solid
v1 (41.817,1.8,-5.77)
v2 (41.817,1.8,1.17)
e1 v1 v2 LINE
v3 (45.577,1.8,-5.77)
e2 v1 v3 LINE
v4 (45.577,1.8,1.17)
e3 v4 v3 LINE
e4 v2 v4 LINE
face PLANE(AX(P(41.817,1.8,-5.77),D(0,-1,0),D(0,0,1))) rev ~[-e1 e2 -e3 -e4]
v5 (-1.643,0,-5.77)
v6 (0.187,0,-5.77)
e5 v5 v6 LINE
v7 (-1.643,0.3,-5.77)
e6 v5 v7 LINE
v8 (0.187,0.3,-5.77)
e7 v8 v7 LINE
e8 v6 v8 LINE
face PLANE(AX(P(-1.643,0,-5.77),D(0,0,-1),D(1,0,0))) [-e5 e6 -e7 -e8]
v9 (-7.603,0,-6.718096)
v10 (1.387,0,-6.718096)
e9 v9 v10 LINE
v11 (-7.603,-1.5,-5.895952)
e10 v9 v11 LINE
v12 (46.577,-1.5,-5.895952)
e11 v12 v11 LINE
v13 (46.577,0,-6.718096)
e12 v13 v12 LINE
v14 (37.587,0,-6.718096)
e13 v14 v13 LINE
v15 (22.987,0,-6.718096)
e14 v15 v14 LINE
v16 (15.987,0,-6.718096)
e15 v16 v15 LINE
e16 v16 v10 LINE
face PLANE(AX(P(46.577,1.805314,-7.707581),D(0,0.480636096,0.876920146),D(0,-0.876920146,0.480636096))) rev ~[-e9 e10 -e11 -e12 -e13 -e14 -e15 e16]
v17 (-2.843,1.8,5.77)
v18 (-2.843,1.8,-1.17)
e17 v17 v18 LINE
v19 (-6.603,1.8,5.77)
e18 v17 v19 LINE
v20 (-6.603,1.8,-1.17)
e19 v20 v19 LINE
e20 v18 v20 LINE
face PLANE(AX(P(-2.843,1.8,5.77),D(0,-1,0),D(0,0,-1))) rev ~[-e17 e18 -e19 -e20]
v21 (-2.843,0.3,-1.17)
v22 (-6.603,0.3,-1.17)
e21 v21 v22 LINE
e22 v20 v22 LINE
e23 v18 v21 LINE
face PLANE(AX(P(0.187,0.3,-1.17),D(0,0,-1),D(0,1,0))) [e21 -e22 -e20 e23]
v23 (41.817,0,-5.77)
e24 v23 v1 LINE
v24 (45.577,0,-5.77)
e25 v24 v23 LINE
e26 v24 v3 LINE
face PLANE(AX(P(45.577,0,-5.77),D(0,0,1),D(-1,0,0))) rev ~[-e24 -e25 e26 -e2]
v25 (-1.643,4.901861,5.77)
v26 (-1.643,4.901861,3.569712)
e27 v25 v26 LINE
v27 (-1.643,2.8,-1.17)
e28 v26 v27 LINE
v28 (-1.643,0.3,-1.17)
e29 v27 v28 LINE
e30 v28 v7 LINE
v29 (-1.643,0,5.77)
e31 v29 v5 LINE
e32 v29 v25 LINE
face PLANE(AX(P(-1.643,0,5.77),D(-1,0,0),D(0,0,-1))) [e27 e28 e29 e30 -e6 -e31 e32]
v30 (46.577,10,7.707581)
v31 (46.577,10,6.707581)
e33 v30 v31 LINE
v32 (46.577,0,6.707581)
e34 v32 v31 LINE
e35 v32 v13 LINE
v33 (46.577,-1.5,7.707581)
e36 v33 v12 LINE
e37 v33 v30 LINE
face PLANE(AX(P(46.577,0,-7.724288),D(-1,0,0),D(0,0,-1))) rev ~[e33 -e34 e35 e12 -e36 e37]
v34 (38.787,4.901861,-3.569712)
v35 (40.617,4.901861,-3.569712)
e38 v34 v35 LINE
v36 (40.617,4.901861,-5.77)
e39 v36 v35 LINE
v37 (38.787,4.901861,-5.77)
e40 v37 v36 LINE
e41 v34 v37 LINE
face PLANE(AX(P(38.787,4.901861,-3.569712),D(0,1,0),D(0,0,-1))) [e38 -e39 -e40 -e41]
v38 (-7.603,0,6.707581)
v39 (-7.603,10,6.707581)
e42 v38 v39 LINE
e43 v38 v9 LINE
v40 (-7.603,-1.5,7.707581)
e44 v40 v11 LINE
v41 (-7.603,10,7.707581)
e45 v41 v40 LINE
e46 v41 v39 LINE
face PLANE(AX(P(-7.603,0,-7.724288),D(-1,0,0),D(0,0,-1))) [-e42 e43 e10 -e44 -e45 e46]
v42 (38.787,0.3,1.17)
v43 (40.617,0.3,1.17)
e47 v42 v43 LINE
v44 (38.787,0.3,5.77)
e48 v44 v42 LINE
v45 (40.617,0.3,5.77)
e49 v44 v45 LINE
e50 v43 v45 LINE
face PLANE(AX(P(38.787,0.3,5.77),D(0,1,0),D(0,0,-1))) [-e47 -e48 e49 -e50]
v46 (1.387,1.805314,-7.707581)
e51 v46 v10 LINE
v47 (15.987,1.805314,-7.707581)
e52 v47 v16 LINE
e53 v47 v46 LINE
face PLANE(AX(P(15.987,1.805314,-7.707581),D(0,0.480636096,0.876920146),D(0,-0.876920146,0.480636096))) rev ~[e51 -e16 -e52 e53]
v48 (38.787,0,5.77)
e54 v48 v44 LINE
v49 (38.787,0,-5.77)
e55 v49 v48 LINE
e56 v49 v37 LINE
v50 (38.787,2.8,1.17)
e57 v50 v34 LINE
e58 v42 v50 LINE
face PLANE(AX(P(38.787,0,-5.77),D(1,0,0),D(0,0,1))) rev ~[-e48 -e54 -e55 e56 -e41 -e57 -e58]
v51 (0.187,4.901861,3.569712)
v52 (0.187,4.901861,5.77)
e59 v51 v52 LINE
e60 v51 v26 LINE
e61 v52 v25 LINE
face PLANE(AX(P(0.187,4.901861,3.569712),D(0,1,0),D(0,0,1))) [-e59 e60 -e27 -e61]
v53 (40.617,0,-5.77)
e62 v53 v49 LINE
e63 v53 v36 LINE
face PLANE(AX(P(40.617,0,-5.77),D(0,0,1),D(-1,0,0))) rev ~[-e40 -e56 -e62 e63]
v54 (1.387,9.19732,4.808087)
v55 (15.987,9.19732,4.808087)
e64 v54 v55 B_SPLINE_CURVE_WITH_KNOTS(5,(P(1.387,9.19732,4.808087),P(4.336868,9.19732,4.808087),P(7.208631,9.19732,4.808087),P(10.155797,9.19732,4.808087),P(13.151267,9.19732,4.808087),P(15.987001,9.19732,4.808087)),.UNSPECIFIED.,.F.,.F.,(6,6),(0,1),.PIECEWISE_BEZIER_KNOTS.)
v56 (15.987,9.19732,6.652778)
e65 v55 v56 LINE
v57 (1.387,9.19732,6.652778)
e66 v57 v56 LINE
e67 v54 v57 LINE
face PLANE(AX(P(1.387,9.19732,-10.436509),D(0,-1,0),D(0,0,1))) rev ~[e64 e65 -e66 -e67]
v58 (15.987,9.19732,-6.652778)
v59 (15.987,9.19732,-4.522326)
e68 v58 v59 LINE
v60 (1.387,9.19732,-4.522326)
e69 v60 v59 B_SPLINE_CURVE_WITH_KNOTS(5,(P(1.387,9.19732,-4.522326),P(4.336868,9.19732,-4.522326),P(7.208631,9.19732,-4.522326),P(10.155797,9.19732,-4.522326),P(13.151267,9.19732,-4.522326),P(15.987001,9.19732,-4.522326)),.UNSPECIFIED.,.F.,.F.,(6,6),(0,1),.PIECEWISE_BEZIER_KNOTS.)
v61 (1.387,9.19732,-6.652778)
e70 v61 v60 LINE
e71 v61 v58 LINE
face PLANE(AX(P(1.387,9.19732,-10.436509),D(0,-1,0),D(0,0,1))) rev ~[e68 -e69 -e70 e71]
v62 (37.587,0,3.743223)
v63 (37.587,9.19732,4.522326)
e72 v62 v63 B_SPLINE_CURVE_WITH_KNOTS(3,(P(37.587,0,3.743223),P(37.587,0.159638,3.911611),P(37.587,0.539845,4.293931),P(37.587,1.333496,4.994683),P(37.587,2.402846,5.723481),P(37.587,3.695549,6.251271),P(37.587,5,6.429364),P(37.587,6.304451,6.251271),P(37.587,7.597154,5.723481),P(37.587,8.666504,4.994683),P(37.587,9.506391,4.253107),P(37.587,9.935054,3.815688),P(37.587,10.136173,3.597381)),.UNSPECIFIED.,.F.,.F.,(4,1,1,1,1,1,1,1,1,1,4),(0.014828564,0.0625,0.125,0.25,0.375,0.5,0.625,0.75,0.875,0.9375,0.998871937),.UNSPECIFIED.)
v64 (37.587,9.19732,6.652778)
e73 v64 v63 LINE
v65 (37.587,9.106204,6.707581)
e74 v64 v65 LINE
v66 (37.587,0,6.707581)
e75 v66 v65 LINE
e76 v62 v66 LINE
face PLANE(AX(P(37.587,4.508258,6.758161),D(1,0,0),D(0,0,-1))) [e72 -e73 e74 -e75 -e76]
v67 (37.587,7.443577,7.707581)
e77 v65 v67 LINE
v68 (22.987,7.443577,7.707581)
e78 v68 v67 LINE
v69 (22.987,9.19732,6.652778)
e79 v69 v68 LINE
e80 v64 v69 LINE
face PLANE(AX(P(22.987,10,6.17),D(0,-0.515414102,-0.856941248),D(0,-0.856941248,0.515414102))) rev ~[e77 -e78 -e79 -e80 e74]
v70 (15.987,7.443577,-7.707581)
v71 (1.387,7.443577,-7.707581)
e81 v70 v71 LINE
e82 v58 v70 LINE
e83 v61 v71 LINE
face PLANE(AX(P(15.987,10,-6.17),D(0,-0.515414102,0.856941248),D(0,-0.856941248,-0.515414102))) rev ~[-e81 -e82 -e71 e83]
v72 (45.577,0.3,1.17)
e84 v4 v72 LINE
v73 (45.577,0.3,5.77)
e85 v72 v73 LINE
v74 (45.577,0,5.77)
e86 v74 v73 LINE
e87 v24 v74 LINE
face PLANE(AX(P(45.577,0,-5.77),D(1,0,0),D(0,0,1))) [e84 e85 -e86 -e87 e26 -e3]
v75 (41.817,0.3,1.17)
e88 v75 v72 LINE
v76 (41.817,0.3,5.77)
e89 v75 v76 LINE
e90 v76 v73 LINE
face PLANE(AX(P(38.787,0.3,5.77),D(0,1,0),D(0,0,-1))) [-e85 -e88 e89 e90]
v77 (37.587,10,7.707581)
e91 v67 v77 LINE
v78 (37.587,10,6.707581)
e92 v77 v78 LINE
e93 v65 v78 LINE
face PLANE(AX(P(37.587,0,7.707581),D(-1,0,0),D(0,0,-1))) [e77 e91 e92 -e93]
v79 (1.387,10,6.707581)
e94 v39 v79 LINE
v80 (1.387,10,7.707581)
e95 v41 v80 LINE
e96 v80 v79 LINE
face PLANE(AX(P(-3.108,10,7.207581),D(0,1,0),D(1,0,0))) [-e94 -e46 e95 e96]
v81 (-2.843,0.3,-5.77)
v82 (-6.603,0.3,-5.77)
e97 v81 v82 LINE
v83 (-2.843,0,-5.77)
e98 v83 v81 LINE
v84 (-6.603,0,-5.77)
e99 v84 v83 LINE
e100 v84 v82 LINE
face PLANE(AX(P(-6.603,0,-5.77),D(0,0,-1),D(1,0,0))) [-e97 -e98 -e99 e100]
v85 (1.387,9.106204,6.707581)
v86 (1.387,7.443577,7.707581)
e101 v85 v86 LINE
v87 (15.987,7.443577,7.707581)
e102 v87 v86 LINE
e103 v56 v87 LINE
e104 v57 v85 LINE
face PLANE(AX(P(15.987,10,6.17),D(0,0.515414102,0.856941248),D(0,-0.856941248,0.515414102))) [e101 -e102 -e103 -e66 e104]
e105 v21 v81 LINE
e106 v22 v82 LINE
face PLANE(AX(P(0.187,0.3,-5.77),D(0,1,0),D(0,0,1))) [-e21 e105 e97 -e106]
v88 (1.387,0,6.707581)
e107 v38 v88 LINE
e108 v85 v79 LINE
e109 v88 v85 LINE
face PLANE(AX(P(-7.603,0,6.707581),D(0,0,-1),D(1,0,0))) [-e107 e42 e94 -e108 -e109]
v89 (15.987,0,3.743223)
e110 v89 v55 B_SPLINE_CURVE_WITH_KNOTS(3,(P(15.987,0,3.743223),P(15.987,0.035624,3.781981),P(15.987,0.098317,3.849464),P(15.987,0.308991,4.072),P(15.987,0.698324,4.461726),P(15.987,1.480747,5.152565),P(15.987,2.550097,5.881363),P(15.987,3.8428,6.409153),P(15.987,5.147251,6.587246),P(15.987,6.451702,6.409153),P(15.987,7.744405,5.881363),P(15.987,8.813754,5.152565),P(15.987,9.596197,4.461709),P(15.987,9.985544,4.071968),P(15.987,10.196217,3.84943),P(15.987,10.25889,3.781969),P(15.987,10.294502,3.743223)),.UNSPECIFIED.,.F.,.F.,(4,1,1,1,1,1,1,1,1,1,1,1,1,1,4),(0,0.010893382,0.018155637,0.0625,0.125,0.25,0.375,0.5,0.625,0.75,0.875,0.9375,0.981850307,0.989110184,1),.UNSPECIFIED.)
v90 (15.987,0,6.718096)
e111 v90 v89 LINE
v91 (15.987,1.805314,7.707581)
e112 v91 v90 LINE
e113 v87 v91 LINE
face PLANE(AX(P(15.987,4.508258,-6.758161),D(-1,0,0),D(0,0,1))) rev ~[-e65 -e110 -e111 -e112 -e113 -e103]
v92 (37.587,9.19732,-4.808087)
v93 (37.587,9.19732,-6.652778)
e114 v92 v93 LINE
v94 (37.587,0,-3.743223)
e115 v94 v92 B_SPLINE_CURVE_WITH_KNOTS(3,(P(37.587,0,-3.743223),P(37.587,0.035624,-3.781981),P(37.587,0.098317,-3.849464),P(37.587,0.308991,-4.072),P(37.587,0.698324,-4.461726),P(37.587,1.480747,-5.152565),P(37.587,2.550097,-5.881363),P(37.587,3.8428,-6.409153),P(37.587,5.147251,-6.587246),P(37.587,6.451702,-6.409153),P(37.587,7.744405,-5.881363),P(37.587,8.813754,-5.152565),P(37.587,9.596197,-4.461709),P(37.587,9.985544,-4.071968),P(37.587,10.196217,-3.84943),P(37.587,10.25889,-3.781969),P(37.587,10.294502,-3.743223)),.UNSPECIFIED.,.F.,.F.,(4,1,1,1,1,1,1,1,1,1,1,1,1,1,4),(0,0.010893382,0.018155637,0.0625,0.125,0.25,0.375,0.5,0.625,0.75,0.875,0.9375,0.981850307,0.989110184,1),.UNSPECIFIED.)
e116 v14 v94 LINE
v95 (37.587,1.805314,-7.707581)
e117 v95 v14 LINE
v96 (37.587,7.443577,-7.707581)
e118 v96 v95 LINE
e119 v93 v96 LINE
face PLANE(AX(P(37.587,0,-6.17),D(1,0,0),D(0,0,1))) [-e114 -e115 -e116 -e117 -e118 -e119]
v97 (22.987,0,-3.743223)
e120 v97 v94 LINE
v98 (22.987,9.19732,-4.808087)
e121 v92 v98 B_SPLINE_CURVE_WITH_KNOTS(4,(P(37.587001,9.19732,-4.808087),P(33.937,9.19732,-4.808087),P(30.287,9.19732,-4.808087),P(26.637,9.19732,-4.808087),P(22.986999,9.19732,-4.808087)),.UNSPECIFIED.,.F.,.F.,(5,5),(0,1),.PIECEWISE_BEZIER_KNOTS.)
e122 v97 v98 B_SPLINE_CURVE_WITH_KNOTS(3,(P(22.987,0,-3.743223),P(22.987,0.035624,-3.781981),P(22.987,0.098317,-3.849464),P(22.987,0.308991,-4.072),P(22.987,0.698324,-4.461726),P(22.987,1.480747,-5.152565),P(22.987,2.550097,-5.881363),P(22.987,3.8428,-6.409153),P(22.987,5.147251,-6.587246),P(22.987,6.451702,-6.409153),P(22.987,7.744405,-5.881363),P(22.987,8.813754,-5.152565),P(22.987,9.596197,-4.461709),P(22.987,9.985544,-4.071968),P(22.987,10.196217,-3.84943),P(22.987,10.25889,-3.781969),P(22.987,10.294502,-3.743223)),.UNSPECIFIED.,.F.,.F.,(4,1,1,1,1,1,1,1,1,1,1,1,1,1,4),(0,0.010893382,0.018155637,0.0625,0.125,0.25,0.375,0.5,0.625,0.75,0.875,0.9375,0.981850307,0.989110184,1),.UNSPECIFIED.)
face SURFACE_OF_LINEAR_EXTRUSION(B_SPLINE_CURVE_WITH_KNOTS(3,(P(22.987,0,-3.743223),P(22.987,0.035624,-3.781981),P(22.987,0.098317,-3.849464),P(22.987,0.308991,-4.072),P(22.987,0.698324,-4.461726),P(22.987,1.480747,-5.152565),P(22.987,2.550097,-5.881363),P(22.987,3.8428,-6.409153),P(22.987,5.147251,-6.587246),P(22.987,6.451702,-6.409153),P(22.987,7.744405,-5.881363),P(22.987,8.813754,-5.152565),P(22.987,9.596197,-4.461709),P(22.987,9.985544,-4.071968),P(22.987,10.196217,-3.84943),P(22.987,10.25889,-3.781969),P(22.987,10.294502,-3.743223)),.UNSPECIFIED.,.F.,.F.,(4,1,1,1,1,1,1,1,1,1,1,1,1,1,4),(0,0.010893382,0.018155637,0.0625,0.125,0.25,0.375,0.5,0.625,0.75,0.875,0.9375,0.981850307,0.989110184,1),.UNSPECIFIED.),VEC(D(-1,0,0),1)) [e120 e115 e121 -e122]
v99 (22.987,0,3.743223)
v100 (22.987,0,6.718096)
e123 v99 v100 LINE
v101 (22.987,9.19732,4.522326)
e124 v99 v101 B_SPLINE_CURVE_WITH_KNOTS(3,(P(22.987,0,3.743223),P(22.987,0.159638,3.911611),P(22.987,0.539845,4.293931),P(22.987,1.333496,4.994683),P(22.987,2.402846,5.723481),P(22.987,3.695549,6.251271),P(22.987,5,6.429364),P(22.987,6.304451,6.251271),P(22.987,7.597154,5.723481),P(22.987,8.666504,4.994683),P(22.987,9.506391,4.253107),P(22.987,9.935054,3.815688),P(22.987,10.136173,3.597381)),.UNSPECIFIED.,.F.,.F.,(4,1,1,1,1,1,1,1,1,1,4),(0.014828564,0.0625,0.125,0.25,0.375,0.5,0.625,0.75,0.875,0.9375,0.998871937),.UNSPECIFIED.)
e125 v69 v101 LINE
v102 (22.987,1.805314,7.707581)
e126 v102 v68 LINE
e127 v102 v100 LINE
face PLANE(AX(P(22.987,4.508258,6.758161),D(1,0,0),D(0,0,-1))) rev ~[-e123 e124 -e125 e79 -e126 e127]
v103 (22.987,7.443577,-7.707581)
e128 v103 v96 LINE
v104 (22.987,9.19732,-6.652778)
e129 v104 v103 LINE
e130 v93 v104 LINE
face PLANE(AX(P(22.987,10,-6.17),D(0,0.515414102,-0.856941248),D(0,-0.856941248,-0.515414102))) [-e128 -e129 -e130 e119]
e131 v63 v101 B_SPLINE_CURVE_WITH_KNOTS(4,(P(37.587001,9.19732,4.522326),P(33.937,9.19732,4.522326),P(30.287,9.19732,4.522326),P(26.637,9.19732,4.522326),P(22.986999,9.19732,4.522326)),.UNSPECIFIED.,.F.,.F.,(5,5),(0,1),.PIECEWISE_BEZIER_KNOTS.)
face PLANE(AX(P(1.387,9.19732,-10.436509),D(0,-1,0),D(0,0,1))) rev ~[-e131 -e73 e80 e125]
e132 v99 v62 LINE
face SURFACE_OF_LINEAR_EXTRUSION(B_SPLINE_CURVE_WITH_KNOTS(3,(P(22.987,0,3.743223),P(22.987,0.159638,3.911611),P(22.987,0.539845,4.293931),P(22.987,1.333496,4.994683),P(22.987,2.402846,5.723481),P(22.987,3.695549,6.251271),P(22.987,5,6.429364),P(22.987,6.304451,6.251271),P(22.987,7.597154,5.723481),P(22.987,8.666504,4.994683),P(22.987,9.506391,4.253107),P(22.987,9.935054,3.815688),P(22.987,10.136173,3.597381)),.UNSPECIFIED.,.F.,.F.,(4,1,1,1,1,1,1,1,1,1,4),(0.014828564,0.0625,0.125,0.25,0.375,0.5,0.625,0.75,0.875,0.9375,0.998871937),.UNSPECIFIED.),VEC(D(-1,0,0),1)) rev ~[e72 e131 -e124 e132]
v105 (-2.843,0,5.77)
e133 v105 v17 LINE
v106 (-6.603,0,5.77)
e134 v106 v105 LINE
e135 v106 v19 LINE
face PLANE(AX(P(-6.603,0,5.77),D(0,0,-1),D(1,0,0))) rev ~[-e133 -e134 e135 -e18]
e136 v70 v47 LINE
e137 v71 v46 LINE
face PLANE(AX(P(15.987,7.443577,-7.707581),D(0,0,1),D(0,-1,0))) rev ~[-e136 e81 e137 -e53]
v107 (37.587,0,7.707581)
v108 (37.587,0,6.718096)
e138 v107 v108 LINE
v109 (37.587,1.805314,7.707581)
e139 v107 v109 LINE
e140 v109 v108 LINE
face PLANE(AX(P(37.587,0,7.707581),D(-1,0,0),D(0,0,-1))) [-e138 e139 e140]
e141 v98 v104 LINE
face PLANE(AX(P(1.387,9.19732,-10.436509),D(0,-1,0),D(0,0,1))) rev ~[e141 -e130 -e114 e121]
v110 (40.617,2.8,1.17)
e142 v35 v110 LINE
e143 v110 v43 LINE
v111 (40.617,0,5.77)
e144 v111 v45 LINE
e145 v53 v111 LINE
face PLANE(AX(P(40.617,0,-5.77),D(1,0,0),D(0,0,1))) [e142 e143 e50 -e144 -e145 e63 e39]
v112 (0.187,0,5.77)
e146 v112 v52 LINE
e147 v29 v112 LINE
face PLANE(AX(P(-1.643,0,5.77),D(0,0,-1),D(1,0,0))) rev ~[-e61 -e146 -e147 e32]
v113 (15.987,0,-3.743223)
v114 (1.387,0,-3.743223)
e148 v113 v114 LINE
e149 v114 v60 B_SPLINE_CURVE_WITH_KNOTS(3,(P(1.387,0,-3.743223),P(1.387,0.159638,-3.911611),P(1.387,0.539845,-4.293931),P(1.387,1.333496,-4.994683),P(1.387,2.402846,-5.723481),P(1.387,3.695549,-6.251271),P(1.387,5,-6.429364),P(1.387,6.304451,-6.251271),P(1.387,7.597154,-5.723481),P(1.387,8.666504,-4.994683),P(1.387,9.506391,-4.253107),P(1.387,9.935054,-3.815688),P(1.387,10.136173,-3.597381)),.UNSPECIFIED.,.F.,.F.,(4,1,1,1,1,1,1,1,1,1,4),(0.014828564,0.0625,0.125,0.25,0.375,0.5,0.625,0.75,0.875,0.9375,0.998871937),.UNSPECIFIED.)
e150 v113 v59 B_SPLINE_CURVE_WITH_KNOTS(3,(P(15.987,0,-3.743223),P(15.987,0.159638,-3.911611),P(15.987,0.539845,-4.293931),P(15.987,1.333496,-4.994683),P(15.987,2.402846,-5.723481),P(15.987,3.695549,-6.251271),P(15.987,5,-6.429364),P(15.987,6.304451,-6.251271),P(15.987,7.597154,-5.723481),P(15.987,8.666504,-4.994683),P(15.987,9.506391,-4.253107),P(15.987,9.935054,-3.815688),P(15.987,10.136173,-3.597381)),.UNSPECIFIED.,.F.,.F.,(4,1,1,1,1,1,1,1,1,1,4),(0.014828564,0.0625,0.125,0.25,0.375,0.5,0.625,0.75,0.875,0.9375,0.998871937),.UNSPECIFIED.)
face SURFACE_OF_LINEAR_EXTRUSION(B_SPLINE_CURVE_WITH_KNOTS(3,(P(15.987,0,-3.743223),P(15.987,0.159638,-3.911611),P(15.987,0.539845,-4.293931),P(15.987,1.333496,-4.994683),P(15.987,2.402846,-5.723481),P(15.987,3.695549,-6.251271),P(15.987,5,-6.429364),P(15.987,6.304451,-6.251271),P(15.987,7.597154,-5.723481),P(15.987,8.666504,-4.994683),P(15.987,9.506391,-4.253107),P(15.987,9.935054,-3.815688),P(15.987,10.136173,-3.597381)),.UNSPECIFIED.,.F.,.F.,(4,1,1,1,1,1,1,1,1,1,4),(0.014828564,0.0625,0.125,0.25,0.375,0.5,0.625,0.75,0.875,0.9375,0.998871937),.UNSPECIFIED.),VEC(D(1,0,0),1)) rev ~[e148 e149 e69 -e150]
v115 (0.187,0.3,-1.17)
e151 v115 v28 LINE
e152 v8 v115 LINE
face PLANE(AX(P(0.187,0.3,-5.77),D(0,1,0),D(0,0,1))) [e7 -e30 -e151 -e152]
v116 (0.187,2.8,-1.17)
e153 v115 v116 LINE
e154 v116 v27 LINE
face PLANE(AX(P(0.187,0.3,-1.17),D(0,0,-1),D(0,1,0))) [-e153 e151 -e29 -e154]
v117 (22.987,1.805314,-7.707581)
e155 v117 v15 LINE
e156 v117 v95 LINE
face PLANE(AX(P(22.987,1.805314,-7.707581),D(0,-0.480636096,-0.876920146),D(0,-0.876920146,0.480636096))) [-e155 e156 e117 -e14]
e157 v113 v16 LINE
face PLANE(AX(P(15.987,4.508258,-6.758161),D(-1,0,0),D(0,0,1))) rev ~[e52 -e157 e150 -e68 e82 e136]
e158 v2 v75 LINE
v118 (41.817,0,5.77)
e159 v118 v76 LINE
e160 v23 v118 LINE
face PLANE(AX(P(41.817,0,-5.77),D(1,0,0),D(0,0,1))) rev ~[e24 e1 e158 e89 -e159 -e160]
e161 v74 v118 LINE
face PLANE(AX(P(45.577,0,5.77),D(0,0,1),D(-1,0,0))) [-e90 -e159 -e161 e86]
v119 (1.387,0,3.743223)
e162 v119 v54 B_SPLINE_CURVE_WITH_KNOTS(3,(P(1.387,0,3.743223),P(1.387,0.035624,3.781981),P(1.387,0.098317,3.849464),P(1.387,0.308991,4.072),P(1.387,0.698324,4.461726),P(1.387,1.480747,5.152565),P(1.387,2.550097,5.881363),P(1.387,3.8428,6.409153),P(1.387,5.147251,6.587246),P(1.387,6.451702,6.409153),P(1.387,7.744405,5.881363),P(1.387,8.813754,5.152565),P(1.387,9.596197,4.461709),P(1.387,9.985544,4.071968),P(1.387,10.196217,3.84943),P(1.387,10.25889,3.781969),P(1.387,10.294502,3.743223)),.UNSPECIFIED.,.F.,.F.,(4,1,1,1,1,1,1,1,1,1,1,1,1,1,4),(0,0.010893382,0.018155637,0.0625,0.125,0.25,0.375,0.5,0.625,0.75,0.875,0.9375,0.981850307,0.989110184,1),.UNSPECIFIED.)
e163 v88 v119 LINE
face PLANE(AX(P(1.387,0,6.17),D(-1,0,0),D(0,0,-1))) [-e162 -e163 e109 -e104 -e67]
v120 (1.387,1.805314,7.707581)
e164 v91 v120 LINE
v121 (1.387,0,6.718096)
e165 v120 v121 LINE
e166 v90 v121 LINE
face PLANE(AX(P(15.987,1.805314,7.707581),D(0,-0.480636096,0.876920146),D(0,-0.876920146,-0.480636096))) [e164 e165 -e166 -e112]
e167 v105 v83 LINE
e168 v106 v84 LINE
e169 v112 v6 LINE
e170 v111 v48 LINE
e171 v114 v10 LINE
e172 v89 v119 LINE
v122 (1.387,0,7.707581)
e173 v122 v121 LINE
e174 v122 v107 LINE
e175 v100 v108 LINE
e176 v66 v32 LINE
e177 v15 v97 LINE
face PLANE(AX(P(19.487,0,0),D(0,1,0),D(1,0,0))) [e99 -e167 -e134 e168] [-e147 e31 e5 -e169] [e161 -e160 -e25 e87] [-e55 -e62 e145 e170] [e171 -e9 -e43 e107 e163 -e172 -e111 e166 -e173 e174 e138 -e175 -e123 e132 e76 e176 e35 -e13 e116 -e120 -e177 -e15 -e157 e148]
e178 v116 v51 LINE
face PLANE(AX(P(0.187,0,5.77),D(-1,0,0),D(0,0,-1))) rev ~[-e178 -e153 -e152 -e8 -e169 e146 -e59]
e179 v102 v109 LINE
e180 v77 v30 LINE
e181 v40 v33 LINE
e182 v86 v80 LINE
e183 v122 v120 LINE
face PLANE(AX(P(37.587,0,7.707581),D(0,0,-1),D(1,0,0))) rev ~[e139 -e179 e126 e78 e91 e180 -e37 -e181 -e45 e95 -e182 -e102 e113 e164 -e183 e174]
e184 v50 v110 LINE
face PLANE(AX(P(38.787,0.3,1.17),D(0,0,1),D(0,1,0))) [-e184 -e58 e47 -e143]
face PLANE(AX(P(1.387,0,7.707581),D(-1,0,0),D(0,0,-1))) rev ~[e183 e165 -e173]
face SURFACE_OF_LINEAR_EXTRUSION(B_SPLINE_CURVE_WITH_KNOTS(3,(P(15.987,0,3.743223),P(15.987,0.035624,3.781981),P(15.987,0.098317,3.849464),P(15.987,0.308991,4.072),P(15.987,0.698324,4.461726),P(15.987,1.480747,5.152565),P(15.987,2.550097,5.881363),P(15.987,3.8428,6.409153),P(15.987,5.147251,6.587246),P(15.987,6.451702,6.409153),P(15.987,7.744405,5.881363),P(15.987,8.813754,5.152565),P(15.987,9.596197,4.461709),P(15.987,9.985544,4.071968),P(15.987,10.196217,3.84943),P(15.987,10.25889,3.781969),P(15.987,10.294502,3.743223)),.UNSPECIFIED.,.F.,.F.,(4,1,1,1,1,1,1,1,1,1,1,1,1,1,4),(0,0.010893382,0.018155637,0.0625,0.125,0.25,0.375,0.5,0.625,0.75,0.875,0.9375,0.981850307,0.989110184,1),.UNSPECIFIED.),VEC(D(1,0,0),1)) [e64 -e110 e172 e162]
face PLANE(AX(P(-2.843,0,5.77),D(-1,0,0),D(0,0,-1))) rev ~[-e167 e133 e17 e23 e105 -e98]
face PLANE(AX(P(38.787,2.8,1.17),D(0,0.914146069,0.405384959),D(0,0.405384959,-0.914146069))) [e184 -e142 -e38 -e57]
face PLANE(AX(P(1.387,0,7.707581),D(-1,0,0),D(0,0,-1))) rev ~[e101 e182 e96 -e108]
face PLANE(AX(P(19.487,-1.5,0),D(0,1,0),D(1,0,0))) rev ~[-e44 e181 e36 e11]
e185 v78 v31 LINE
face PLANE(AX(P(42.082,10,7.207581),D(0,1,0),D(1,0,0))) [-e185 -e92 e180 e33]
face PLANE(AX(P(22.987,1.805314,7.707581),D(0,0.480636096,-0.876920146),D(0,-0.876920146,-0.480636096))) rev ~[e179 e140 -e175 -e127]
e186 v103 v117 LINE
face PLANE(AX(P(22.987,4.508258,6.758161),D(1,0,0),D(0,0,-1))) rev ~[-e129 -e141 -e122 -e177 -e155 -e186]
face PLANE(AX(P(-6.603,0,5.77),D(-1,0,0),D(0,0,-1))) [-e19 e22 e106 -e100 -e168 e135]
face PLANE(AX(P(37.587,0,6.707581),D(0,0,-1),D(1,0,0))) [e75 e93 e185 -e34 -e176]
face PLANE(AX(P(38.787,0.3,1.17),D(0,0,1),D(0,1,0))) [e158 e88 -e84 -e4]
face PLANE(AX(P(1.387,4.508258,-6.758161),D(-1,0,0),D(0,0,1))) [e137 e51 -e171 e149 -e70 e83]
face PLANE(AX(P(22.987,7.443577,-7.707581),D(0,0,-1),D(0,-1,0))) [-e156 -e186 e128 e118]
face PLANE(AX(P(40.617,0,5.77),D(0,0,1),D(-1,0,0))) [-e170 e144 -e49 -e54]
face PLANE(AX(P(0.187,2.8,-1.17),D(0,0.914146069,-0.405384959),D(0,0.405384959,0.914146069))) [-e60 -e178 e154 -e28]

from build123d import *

# Parameters (mm, degrees)
SKETCH_1_W               = 3.76
SKETCH_1_H               = 11.54
SKETCH_1_W_2             = 1.83
SKETCH_1_W_3             = 14.6
SKETCH_1_H_2             = 2.72
SKETCH_1_H_3             = 6.9
EXTRUDE_1_DEPTH          = 1
SKETCH_1_3_W             = 3.76
SKETCH_1_3_H             = 11.54
SKETCH_1_3_W_2           = 1.83
SKETCH_1_3_W_3           = 14.6
SKETCH_1_3_H_2           = 2.72
EXTRUDE_2_DEPTH          = 10
EXTRUDE_3_DEPTH          = 14.6
CUT_EXTRUDE_1_DEPTH      = 14.6
CUT_EXTRUDE_2_DEPTH      = 14.6
CUT_EXTRUDE_3_DEPTH      = 14.6
PATTERN_CIRCULAR_1_COUNT = 2
SKETCH_7_W               = 20.64829466
SKETCH_7_H               = 2.860597992
CUT_EXTRUDE_4_DEPTH      = 38.6
SKETCH_8_W               = 54.18
SKETCH_8_H               = 19.048575036
SKETCH_8_W_2             = 7
SKETCH_8_H_2             = 4.5
SKETCH_8_R               = 1.6
EXTRUDE_4_DEPTH          = 1.5
SKETCH_9_W               = 54.18
SKETCH_9_H               = 1.8
EXTRUDE_5_DEPTH          = 7
SKETCH_10_R              = 1.65
CUT_EXTRUDE_5_DEPTH      = 5
EXTRUDE_START            = 2
SKETCH_8_3_W             = 7
SKETCH_8_3_H             = 4.5
SKETCH_8_3_R             = 1.6
EXTRUDE_6_DEPTH          = 2
SKETCH_11_W              = 54.18
SKETCH_11_H              = 6.653379434
CUT_EXTRUDE_6_DEPTH      = 5
CUT_EXTRUDE_7_DEPTH      = 54.18
SKETCH_13_W              = 8.99
SKETCH_13_H              = 1
EXTRUDE_7_DEPTH          = 10


with BuildPart() as part:
    # 草图1 → 凸台-拉伸1 (new body)
    # profile 1 of 6: a face of its own
    with BuildSketch(Plane(origin=(0, 0, 0), x_dir=(1, 0, 0), z_dir=(0, 1, 0))):
        Polygon((-7.603, 6.17), (-7.603, -6.17), (1.387, -6.17), (1.387, -3.45), (1.387, 3.45), (1.387, 6.17), align=None)
        with Locations((-4.723, 0)):
            Rectangle(SKETCH_1_W, SKETCH_1_H, mode=Mode.SUBTRACT)
        with Locations((-0.728, 0)):
            Rectangle(SKETCH_1_W_2, SKETCH_1_H, mode=Mode.SUBTRACT)
    # profile 2 of 6: a face of its own
    with BuildSketch(Plane(origin=(0, 0, 0), x_dir=(1, 0, 0), z_dir=(0, 1, 0))):
        with Locations((8.687, -4.81)):
            Rectangle(SKETCH_1_W_3, SKETCH_1_H_2)
    # profile 3 of 6: a face of its own
    with BuildSketch(Plane(origin=(0, 0, 0), x_dir=(1, 0, 0), z_dir=(0, 1, 0))):
        with Locations((8.687, 0)):
            Rectangle(SKETCH_1_W_3, SKETCH_1_H_3)
    # profile 4 of 6: a face of its own
    with BuildSketch(Plane(origin=(0, 0, 0), x_dir=(1, 0, 0), z_dir=(0, 1, 0))):
        with Locations((8.687, 4.81)):
            Rectangle(SKETCH_1_W_3, SKETCH_1_H_2)
    # profile 5 of 6: a face of its own
    with BuildSketch(Plane(origin=(0, 0, 0), x_dir=(1, 0, 0), z_dir=(0, 1, 0))):
        with Locations((-4.723, 0)):
            Rectangle(SKETCH_1_W, SKETCH_1_H)
    # profile 6 of 6: a face of its own
    with BuildSketch(Plane(origin=(0, 0, 0), x_dir=(1, 0, 0), z_dir=(0, 1, 0))):
        with Locations((-0.728, 0)):
            Rectangle(SKETCH_1_W_2, SKETCH_1_H)
    extrude(amount=-EXTRUDE_1_DEPTH)

    # 草图1<3> → 凸台-拉伸2 (add)
    with BuildSketch(Plane(origin=(0, 0, 0), x_dir=(1, 0, 0), z_dir=(0, 1, 0))):
        with Locations((-4.723, 0)):
            Rectangle(SKETCH_1_3_W, SKETCH_1_3_H)
        with Locations((-0.728, 0)):
            Rectangle(SKETCH_1_3_W_2, SKETCH_1_3_H)
        with Locations((8.687, -4.81)):
            Rectangle(SKETCH_1_3_W_3, SKETCH_1_3_H_2)
        with Locations((8.687, 4.81)):
            Rectangle(SKETCH_1_3_W_3, SKETCH_1_3_H_2)
    extrude(amount=EXTRUDE_2_DEPTH)

    # 草图4 → 凸台-拉伸3 (add)
    with BuildSketch(Plane(origin=(15.987, 0, 0), x_dir=(0, 0, -1), z_dir=(1, 0, 0))):
        Polygon((6.17, 10), (7.707580576, 7.443577481), (7.707580576, 1.805314446), (6.17, -1), align=None)
        Polygon((-7.707580576, 1.805314446), (-6.17, -1), (-6.17, 10), (-7.707580576, 7.443577481), align=None)
    extrude(amount=-EXTRUDE_3_DEPTH)

    # 草图3 → 切除-拉伸1 (cut)
    with BuildSketch(Plane(origin=(15.987, 0, 0), x_dir=(0, 0, -1), z_dir=(1, 0, 0))):
        with BuildLine():
            Line((3.45, 0), (3.743222721, 0))
            add(Edge.make_bspline(
                [(3.743222721, 0), (3.911611309, 0.15963804), (4.29393083, 0.539845441), (4.994683036, 1.333496486), (5.723480991, 2.402845903), (6.251271172, 3.695549278), (6.429364414, 5), (6.251271172, 6.304450722), (5.723480991, 7.597154097), (4.994683036, 8.666503514), (4.253106755, 9.506390689), (3.815688064, 9.935054209), (3.597380816, 10.136172737)],
                knots=[0.014828564, 0.014828564, 0.014828564, 0.014828564, 0.0625, 0.125, 0.25, 0.375, 0.5, 0.625, 0.75, 0.875, 0.9375, 0.998871937, 0.998871937, 0.998871937, 0.998871937], degree=3))
            Line((3.597380816, 10.136172737), (3.45, 10))
            Line((3.45, 10), (3.45, 0))
        make_face()
        with BuildLine():
            Line((-3.45, 0), (-3.743222721, 0))
            add(Edge.make_bspline(
                [(-3.743222721, 0), (-3.781981306, 0.035623699), (-3.849464206, 0.098316559), (-4.072000203, 0.30899054), (-4.461726475, 0.698324492), (-5.152564834, 1.48074741), (-5.881362789, 2.550096827), (-6.40915297, 3.842800202), (-6.587246212, 5.147250924), (-6.40915297, 6.451701646), (-5.881362789, 7.744405021), (-5.152564834, 8.813754438), (-4.461708764, 9.596197415), (-4.071967827, 9.985543512), (-3.84942965, 10.196217487), (-3.781968617, 10.258889811), (-3.743222721, 10.294501848)],
                knots=[0, 0, 0, 0, 0.010893382, 0.018155637, 0.0625, 0.125, 0.25, 0.375, 0.5, 0.625, 0.75, 0.875, 0.9375, 0.981850307, 0.989110184, 1, 1, 1, 1], degree=3))
            Line((-3.743222721, 10.294501848), (-3.45, 10))
            Line((-3.45, 10), (-3.45, 0))
        make_face()
    extrude(amount=-CUT_EXTRUDE_1_DEPTH, mode=Mode.SUBTRACT)

    # 草图5 → 切除-拉伸2 (cut)
    with BuildSketch(Plane(origin=(0.187, 0, 0), x_dir=(0, 0, -1), z_dir=(1, 0, 0))):
        Polygon((1.17, 2.8), (-3.569711506, 4.901860767), (-5.77, 4.901860767), (-5.77, 10), (5.77, 10), (5.77, 0.3), (1.17, 0.3), align=None)
    extrude(amount=-CUT_EXTRUDE_2_DEPTH, mode=Mode.SUBTRACT)

    # 草图6 → 切除-拉伸3 (cut)
    with BuildSketch(Plane(origin=(-2.843, 0, 0), x_dir=(0, 0, -1), z_dir=(1, 0, 0))):
        Polygon((1.17, 5.538552109), (1.17, 1.8), (-3.795527251, 1.8), (-5.77, 1.8), (-5.77, 5.538552109), align=None)
    extrude(amount=-CUT_EXTRUDE_3_DEPTH, mode=Mode.SUBTRACT)


with BuildPart() as pattern_circular_1_1:
    # 阵列(圆周)1: pattern copy
    add(part.part.rotate(Axis((19.487, -1.5500525, 0), (0, 1, 0)), 1 * 360 / PATTERN_CIRCULAR_1_COUNT))


with BuildPart() as cut_extrude_4_tool:
    # 草图7 → 切除-拉伸4 (new body)
    with BuildSketch(Plane.ZY.offset(-1.387)):
        with Locations((-0.112362095, 10.62761907)):
            Rectangle(SKETCH_7_W, SKETCH_7_H)
    extrude(amount=-CUT_EXTRUDE_4_DEPTH)


with BuildPart() as part_1:
    add(part.part)

    # 切除-拉伸4: cut by cut_extrude_4_tool
    add(cut_extrude_4_tool.part, mode=Mode.SUBTRACT)



with BuildPart() as pattern_circular_1_1_1:
    add(pattern_circular_1_1.part)

    # 切除-拉伸4: cut by cut_extrude_4_tool
    add(cut_extrude_4_tool.part, mode=Mode.SUBTRACT)


with BuildPart() as part_2:
    add(part_1.part)

    add(pattern_circular_1_1_1.part)  # 凸台-拉伸4 merges 阵列(圆周)1_1
    # 草图8 → 凸台-拉伸4 (add)
    # profile 1 of 2: a face of its own
    with BuildSketch(Plane(origin=(0, 0, 0), x_dir=(1, 0, 0), z_dir=(0, 1, 0))):
        with Locations((19.487, 0)):
            Rectangle(SKETCH_8_W, SKETCH_8_H)
    # profile 2 of 2: a face of its own
    with BuildSketch(Plane(origin=(0, 0, 0), x_dir=(1, 0, 0), z_dir=(0, 1, 0))):
        with Locations((19.487, -11.774287518)):
            Rectangle(SKETCH_8_W_2, SKETCH_8_H_2)
        with Locations(Location((19.487, -11.774287518, 0), (0, 0, 270))):
            Circle(SKETCH_8_R, mode=Mode.SUBTRACT)
    extrude(amount=-EXTRUDE_4_DEPTH)

    # 草图9 → 凸台-拉伸5 (add)
    with BuildSketch(Plane(origin=(0, 0, 0), x_dir=(1, 0, 0), z_dir=(0, 1, 0))):
        with Locations((19.487, 8.624287518)):
            Rectangle(SKETCH_9_W, SKETCH_9_H)
    extrude(amount=EXTRUDE_5_DEPTH)

    # 草图10 → 切除-拉伸5 (cut)
    with BuildSketch(Plane.XY.offset(-7.724287518)):
        with Locations((-4.603, 2.5)):
            Circle(SKETCH_10_R)
        with Locations((43.577, 2.5)):
            Circle(SKETCH_10_R)
    extrude(amount=-CUT_EXTRUDE_5_DEPTH, mode=Mode.SUBTRACT)

    # 草图8<3> → 凸台-拉伸6 (add)
    with BuildSketch(Plane(origin=(0, 0, 0), x_dir=(1, 0, 0), z_dir=(0, 1, 0)).offset(EXTRUDE_START)):
        with Locations((19.487, -11.774287518)):
            Rectangle(SKETCH_8_3_W, SKETCH_8_3_H)
        with Locations(Location((19.487, -11.774287518, 0), (0, 0, 270))):
            Circle(SKETCH_8_3_R, mode=Mode.SUBTRACT)
    extrude(amount=-EXTRUDE_6_DEPTH)

    # 草图11 → 切除-拉伸6 (cut, symmetric)
    with BuildSketch(Plane(origin=(0, 0, 0), x_dir=(1, 0, 0), z_dir=(0, 1, 0))):
        with Locations((19.487, -11.034270293)):
            Rectangle(SKETCH_11_W, SKETCH_11_H)
    extrude(amount=CUT_EXTRUDE_6_DEPTH, both=True, mode=Mode.SUBTRACT)

    # 草图12 → 切除-拉伸7 (cut)
    with BuildSketch(Plane(origin=(46.577, 0, 0), x_dir=(0, 0, -1), z_dir=(1, 0, 0))):
        Polygon((7.707580576, 1.805314446), (5.895952187, -1.5), (9.524287518, -1.5), (9.524287518, 7.146168792), (7.724287518, 7), align=None)
    extrude(amount=-CUT_EXTRUDE_7_DEPTH, mode=Mode.SUBTRACT)

    # 草图13 → 凸台-拉伸7 (add)
    with BuildSketch(Plane(origin=(0, 0, 0), x_dir=(1, 0, 0), z_dir=(0, 1, 0))):
        with Locations((42.082, -7.207580576)):
            Rectangle(SKETCH_13_W, SKETCH_13_H)
        with Locations((-3.108, -7.207580576)):
            Rectangle(SKETCH_13_W, SKETCH_13_H)
    extrude(amount=EXTRUDE_7_DEPTH)


solid = part_2.part
